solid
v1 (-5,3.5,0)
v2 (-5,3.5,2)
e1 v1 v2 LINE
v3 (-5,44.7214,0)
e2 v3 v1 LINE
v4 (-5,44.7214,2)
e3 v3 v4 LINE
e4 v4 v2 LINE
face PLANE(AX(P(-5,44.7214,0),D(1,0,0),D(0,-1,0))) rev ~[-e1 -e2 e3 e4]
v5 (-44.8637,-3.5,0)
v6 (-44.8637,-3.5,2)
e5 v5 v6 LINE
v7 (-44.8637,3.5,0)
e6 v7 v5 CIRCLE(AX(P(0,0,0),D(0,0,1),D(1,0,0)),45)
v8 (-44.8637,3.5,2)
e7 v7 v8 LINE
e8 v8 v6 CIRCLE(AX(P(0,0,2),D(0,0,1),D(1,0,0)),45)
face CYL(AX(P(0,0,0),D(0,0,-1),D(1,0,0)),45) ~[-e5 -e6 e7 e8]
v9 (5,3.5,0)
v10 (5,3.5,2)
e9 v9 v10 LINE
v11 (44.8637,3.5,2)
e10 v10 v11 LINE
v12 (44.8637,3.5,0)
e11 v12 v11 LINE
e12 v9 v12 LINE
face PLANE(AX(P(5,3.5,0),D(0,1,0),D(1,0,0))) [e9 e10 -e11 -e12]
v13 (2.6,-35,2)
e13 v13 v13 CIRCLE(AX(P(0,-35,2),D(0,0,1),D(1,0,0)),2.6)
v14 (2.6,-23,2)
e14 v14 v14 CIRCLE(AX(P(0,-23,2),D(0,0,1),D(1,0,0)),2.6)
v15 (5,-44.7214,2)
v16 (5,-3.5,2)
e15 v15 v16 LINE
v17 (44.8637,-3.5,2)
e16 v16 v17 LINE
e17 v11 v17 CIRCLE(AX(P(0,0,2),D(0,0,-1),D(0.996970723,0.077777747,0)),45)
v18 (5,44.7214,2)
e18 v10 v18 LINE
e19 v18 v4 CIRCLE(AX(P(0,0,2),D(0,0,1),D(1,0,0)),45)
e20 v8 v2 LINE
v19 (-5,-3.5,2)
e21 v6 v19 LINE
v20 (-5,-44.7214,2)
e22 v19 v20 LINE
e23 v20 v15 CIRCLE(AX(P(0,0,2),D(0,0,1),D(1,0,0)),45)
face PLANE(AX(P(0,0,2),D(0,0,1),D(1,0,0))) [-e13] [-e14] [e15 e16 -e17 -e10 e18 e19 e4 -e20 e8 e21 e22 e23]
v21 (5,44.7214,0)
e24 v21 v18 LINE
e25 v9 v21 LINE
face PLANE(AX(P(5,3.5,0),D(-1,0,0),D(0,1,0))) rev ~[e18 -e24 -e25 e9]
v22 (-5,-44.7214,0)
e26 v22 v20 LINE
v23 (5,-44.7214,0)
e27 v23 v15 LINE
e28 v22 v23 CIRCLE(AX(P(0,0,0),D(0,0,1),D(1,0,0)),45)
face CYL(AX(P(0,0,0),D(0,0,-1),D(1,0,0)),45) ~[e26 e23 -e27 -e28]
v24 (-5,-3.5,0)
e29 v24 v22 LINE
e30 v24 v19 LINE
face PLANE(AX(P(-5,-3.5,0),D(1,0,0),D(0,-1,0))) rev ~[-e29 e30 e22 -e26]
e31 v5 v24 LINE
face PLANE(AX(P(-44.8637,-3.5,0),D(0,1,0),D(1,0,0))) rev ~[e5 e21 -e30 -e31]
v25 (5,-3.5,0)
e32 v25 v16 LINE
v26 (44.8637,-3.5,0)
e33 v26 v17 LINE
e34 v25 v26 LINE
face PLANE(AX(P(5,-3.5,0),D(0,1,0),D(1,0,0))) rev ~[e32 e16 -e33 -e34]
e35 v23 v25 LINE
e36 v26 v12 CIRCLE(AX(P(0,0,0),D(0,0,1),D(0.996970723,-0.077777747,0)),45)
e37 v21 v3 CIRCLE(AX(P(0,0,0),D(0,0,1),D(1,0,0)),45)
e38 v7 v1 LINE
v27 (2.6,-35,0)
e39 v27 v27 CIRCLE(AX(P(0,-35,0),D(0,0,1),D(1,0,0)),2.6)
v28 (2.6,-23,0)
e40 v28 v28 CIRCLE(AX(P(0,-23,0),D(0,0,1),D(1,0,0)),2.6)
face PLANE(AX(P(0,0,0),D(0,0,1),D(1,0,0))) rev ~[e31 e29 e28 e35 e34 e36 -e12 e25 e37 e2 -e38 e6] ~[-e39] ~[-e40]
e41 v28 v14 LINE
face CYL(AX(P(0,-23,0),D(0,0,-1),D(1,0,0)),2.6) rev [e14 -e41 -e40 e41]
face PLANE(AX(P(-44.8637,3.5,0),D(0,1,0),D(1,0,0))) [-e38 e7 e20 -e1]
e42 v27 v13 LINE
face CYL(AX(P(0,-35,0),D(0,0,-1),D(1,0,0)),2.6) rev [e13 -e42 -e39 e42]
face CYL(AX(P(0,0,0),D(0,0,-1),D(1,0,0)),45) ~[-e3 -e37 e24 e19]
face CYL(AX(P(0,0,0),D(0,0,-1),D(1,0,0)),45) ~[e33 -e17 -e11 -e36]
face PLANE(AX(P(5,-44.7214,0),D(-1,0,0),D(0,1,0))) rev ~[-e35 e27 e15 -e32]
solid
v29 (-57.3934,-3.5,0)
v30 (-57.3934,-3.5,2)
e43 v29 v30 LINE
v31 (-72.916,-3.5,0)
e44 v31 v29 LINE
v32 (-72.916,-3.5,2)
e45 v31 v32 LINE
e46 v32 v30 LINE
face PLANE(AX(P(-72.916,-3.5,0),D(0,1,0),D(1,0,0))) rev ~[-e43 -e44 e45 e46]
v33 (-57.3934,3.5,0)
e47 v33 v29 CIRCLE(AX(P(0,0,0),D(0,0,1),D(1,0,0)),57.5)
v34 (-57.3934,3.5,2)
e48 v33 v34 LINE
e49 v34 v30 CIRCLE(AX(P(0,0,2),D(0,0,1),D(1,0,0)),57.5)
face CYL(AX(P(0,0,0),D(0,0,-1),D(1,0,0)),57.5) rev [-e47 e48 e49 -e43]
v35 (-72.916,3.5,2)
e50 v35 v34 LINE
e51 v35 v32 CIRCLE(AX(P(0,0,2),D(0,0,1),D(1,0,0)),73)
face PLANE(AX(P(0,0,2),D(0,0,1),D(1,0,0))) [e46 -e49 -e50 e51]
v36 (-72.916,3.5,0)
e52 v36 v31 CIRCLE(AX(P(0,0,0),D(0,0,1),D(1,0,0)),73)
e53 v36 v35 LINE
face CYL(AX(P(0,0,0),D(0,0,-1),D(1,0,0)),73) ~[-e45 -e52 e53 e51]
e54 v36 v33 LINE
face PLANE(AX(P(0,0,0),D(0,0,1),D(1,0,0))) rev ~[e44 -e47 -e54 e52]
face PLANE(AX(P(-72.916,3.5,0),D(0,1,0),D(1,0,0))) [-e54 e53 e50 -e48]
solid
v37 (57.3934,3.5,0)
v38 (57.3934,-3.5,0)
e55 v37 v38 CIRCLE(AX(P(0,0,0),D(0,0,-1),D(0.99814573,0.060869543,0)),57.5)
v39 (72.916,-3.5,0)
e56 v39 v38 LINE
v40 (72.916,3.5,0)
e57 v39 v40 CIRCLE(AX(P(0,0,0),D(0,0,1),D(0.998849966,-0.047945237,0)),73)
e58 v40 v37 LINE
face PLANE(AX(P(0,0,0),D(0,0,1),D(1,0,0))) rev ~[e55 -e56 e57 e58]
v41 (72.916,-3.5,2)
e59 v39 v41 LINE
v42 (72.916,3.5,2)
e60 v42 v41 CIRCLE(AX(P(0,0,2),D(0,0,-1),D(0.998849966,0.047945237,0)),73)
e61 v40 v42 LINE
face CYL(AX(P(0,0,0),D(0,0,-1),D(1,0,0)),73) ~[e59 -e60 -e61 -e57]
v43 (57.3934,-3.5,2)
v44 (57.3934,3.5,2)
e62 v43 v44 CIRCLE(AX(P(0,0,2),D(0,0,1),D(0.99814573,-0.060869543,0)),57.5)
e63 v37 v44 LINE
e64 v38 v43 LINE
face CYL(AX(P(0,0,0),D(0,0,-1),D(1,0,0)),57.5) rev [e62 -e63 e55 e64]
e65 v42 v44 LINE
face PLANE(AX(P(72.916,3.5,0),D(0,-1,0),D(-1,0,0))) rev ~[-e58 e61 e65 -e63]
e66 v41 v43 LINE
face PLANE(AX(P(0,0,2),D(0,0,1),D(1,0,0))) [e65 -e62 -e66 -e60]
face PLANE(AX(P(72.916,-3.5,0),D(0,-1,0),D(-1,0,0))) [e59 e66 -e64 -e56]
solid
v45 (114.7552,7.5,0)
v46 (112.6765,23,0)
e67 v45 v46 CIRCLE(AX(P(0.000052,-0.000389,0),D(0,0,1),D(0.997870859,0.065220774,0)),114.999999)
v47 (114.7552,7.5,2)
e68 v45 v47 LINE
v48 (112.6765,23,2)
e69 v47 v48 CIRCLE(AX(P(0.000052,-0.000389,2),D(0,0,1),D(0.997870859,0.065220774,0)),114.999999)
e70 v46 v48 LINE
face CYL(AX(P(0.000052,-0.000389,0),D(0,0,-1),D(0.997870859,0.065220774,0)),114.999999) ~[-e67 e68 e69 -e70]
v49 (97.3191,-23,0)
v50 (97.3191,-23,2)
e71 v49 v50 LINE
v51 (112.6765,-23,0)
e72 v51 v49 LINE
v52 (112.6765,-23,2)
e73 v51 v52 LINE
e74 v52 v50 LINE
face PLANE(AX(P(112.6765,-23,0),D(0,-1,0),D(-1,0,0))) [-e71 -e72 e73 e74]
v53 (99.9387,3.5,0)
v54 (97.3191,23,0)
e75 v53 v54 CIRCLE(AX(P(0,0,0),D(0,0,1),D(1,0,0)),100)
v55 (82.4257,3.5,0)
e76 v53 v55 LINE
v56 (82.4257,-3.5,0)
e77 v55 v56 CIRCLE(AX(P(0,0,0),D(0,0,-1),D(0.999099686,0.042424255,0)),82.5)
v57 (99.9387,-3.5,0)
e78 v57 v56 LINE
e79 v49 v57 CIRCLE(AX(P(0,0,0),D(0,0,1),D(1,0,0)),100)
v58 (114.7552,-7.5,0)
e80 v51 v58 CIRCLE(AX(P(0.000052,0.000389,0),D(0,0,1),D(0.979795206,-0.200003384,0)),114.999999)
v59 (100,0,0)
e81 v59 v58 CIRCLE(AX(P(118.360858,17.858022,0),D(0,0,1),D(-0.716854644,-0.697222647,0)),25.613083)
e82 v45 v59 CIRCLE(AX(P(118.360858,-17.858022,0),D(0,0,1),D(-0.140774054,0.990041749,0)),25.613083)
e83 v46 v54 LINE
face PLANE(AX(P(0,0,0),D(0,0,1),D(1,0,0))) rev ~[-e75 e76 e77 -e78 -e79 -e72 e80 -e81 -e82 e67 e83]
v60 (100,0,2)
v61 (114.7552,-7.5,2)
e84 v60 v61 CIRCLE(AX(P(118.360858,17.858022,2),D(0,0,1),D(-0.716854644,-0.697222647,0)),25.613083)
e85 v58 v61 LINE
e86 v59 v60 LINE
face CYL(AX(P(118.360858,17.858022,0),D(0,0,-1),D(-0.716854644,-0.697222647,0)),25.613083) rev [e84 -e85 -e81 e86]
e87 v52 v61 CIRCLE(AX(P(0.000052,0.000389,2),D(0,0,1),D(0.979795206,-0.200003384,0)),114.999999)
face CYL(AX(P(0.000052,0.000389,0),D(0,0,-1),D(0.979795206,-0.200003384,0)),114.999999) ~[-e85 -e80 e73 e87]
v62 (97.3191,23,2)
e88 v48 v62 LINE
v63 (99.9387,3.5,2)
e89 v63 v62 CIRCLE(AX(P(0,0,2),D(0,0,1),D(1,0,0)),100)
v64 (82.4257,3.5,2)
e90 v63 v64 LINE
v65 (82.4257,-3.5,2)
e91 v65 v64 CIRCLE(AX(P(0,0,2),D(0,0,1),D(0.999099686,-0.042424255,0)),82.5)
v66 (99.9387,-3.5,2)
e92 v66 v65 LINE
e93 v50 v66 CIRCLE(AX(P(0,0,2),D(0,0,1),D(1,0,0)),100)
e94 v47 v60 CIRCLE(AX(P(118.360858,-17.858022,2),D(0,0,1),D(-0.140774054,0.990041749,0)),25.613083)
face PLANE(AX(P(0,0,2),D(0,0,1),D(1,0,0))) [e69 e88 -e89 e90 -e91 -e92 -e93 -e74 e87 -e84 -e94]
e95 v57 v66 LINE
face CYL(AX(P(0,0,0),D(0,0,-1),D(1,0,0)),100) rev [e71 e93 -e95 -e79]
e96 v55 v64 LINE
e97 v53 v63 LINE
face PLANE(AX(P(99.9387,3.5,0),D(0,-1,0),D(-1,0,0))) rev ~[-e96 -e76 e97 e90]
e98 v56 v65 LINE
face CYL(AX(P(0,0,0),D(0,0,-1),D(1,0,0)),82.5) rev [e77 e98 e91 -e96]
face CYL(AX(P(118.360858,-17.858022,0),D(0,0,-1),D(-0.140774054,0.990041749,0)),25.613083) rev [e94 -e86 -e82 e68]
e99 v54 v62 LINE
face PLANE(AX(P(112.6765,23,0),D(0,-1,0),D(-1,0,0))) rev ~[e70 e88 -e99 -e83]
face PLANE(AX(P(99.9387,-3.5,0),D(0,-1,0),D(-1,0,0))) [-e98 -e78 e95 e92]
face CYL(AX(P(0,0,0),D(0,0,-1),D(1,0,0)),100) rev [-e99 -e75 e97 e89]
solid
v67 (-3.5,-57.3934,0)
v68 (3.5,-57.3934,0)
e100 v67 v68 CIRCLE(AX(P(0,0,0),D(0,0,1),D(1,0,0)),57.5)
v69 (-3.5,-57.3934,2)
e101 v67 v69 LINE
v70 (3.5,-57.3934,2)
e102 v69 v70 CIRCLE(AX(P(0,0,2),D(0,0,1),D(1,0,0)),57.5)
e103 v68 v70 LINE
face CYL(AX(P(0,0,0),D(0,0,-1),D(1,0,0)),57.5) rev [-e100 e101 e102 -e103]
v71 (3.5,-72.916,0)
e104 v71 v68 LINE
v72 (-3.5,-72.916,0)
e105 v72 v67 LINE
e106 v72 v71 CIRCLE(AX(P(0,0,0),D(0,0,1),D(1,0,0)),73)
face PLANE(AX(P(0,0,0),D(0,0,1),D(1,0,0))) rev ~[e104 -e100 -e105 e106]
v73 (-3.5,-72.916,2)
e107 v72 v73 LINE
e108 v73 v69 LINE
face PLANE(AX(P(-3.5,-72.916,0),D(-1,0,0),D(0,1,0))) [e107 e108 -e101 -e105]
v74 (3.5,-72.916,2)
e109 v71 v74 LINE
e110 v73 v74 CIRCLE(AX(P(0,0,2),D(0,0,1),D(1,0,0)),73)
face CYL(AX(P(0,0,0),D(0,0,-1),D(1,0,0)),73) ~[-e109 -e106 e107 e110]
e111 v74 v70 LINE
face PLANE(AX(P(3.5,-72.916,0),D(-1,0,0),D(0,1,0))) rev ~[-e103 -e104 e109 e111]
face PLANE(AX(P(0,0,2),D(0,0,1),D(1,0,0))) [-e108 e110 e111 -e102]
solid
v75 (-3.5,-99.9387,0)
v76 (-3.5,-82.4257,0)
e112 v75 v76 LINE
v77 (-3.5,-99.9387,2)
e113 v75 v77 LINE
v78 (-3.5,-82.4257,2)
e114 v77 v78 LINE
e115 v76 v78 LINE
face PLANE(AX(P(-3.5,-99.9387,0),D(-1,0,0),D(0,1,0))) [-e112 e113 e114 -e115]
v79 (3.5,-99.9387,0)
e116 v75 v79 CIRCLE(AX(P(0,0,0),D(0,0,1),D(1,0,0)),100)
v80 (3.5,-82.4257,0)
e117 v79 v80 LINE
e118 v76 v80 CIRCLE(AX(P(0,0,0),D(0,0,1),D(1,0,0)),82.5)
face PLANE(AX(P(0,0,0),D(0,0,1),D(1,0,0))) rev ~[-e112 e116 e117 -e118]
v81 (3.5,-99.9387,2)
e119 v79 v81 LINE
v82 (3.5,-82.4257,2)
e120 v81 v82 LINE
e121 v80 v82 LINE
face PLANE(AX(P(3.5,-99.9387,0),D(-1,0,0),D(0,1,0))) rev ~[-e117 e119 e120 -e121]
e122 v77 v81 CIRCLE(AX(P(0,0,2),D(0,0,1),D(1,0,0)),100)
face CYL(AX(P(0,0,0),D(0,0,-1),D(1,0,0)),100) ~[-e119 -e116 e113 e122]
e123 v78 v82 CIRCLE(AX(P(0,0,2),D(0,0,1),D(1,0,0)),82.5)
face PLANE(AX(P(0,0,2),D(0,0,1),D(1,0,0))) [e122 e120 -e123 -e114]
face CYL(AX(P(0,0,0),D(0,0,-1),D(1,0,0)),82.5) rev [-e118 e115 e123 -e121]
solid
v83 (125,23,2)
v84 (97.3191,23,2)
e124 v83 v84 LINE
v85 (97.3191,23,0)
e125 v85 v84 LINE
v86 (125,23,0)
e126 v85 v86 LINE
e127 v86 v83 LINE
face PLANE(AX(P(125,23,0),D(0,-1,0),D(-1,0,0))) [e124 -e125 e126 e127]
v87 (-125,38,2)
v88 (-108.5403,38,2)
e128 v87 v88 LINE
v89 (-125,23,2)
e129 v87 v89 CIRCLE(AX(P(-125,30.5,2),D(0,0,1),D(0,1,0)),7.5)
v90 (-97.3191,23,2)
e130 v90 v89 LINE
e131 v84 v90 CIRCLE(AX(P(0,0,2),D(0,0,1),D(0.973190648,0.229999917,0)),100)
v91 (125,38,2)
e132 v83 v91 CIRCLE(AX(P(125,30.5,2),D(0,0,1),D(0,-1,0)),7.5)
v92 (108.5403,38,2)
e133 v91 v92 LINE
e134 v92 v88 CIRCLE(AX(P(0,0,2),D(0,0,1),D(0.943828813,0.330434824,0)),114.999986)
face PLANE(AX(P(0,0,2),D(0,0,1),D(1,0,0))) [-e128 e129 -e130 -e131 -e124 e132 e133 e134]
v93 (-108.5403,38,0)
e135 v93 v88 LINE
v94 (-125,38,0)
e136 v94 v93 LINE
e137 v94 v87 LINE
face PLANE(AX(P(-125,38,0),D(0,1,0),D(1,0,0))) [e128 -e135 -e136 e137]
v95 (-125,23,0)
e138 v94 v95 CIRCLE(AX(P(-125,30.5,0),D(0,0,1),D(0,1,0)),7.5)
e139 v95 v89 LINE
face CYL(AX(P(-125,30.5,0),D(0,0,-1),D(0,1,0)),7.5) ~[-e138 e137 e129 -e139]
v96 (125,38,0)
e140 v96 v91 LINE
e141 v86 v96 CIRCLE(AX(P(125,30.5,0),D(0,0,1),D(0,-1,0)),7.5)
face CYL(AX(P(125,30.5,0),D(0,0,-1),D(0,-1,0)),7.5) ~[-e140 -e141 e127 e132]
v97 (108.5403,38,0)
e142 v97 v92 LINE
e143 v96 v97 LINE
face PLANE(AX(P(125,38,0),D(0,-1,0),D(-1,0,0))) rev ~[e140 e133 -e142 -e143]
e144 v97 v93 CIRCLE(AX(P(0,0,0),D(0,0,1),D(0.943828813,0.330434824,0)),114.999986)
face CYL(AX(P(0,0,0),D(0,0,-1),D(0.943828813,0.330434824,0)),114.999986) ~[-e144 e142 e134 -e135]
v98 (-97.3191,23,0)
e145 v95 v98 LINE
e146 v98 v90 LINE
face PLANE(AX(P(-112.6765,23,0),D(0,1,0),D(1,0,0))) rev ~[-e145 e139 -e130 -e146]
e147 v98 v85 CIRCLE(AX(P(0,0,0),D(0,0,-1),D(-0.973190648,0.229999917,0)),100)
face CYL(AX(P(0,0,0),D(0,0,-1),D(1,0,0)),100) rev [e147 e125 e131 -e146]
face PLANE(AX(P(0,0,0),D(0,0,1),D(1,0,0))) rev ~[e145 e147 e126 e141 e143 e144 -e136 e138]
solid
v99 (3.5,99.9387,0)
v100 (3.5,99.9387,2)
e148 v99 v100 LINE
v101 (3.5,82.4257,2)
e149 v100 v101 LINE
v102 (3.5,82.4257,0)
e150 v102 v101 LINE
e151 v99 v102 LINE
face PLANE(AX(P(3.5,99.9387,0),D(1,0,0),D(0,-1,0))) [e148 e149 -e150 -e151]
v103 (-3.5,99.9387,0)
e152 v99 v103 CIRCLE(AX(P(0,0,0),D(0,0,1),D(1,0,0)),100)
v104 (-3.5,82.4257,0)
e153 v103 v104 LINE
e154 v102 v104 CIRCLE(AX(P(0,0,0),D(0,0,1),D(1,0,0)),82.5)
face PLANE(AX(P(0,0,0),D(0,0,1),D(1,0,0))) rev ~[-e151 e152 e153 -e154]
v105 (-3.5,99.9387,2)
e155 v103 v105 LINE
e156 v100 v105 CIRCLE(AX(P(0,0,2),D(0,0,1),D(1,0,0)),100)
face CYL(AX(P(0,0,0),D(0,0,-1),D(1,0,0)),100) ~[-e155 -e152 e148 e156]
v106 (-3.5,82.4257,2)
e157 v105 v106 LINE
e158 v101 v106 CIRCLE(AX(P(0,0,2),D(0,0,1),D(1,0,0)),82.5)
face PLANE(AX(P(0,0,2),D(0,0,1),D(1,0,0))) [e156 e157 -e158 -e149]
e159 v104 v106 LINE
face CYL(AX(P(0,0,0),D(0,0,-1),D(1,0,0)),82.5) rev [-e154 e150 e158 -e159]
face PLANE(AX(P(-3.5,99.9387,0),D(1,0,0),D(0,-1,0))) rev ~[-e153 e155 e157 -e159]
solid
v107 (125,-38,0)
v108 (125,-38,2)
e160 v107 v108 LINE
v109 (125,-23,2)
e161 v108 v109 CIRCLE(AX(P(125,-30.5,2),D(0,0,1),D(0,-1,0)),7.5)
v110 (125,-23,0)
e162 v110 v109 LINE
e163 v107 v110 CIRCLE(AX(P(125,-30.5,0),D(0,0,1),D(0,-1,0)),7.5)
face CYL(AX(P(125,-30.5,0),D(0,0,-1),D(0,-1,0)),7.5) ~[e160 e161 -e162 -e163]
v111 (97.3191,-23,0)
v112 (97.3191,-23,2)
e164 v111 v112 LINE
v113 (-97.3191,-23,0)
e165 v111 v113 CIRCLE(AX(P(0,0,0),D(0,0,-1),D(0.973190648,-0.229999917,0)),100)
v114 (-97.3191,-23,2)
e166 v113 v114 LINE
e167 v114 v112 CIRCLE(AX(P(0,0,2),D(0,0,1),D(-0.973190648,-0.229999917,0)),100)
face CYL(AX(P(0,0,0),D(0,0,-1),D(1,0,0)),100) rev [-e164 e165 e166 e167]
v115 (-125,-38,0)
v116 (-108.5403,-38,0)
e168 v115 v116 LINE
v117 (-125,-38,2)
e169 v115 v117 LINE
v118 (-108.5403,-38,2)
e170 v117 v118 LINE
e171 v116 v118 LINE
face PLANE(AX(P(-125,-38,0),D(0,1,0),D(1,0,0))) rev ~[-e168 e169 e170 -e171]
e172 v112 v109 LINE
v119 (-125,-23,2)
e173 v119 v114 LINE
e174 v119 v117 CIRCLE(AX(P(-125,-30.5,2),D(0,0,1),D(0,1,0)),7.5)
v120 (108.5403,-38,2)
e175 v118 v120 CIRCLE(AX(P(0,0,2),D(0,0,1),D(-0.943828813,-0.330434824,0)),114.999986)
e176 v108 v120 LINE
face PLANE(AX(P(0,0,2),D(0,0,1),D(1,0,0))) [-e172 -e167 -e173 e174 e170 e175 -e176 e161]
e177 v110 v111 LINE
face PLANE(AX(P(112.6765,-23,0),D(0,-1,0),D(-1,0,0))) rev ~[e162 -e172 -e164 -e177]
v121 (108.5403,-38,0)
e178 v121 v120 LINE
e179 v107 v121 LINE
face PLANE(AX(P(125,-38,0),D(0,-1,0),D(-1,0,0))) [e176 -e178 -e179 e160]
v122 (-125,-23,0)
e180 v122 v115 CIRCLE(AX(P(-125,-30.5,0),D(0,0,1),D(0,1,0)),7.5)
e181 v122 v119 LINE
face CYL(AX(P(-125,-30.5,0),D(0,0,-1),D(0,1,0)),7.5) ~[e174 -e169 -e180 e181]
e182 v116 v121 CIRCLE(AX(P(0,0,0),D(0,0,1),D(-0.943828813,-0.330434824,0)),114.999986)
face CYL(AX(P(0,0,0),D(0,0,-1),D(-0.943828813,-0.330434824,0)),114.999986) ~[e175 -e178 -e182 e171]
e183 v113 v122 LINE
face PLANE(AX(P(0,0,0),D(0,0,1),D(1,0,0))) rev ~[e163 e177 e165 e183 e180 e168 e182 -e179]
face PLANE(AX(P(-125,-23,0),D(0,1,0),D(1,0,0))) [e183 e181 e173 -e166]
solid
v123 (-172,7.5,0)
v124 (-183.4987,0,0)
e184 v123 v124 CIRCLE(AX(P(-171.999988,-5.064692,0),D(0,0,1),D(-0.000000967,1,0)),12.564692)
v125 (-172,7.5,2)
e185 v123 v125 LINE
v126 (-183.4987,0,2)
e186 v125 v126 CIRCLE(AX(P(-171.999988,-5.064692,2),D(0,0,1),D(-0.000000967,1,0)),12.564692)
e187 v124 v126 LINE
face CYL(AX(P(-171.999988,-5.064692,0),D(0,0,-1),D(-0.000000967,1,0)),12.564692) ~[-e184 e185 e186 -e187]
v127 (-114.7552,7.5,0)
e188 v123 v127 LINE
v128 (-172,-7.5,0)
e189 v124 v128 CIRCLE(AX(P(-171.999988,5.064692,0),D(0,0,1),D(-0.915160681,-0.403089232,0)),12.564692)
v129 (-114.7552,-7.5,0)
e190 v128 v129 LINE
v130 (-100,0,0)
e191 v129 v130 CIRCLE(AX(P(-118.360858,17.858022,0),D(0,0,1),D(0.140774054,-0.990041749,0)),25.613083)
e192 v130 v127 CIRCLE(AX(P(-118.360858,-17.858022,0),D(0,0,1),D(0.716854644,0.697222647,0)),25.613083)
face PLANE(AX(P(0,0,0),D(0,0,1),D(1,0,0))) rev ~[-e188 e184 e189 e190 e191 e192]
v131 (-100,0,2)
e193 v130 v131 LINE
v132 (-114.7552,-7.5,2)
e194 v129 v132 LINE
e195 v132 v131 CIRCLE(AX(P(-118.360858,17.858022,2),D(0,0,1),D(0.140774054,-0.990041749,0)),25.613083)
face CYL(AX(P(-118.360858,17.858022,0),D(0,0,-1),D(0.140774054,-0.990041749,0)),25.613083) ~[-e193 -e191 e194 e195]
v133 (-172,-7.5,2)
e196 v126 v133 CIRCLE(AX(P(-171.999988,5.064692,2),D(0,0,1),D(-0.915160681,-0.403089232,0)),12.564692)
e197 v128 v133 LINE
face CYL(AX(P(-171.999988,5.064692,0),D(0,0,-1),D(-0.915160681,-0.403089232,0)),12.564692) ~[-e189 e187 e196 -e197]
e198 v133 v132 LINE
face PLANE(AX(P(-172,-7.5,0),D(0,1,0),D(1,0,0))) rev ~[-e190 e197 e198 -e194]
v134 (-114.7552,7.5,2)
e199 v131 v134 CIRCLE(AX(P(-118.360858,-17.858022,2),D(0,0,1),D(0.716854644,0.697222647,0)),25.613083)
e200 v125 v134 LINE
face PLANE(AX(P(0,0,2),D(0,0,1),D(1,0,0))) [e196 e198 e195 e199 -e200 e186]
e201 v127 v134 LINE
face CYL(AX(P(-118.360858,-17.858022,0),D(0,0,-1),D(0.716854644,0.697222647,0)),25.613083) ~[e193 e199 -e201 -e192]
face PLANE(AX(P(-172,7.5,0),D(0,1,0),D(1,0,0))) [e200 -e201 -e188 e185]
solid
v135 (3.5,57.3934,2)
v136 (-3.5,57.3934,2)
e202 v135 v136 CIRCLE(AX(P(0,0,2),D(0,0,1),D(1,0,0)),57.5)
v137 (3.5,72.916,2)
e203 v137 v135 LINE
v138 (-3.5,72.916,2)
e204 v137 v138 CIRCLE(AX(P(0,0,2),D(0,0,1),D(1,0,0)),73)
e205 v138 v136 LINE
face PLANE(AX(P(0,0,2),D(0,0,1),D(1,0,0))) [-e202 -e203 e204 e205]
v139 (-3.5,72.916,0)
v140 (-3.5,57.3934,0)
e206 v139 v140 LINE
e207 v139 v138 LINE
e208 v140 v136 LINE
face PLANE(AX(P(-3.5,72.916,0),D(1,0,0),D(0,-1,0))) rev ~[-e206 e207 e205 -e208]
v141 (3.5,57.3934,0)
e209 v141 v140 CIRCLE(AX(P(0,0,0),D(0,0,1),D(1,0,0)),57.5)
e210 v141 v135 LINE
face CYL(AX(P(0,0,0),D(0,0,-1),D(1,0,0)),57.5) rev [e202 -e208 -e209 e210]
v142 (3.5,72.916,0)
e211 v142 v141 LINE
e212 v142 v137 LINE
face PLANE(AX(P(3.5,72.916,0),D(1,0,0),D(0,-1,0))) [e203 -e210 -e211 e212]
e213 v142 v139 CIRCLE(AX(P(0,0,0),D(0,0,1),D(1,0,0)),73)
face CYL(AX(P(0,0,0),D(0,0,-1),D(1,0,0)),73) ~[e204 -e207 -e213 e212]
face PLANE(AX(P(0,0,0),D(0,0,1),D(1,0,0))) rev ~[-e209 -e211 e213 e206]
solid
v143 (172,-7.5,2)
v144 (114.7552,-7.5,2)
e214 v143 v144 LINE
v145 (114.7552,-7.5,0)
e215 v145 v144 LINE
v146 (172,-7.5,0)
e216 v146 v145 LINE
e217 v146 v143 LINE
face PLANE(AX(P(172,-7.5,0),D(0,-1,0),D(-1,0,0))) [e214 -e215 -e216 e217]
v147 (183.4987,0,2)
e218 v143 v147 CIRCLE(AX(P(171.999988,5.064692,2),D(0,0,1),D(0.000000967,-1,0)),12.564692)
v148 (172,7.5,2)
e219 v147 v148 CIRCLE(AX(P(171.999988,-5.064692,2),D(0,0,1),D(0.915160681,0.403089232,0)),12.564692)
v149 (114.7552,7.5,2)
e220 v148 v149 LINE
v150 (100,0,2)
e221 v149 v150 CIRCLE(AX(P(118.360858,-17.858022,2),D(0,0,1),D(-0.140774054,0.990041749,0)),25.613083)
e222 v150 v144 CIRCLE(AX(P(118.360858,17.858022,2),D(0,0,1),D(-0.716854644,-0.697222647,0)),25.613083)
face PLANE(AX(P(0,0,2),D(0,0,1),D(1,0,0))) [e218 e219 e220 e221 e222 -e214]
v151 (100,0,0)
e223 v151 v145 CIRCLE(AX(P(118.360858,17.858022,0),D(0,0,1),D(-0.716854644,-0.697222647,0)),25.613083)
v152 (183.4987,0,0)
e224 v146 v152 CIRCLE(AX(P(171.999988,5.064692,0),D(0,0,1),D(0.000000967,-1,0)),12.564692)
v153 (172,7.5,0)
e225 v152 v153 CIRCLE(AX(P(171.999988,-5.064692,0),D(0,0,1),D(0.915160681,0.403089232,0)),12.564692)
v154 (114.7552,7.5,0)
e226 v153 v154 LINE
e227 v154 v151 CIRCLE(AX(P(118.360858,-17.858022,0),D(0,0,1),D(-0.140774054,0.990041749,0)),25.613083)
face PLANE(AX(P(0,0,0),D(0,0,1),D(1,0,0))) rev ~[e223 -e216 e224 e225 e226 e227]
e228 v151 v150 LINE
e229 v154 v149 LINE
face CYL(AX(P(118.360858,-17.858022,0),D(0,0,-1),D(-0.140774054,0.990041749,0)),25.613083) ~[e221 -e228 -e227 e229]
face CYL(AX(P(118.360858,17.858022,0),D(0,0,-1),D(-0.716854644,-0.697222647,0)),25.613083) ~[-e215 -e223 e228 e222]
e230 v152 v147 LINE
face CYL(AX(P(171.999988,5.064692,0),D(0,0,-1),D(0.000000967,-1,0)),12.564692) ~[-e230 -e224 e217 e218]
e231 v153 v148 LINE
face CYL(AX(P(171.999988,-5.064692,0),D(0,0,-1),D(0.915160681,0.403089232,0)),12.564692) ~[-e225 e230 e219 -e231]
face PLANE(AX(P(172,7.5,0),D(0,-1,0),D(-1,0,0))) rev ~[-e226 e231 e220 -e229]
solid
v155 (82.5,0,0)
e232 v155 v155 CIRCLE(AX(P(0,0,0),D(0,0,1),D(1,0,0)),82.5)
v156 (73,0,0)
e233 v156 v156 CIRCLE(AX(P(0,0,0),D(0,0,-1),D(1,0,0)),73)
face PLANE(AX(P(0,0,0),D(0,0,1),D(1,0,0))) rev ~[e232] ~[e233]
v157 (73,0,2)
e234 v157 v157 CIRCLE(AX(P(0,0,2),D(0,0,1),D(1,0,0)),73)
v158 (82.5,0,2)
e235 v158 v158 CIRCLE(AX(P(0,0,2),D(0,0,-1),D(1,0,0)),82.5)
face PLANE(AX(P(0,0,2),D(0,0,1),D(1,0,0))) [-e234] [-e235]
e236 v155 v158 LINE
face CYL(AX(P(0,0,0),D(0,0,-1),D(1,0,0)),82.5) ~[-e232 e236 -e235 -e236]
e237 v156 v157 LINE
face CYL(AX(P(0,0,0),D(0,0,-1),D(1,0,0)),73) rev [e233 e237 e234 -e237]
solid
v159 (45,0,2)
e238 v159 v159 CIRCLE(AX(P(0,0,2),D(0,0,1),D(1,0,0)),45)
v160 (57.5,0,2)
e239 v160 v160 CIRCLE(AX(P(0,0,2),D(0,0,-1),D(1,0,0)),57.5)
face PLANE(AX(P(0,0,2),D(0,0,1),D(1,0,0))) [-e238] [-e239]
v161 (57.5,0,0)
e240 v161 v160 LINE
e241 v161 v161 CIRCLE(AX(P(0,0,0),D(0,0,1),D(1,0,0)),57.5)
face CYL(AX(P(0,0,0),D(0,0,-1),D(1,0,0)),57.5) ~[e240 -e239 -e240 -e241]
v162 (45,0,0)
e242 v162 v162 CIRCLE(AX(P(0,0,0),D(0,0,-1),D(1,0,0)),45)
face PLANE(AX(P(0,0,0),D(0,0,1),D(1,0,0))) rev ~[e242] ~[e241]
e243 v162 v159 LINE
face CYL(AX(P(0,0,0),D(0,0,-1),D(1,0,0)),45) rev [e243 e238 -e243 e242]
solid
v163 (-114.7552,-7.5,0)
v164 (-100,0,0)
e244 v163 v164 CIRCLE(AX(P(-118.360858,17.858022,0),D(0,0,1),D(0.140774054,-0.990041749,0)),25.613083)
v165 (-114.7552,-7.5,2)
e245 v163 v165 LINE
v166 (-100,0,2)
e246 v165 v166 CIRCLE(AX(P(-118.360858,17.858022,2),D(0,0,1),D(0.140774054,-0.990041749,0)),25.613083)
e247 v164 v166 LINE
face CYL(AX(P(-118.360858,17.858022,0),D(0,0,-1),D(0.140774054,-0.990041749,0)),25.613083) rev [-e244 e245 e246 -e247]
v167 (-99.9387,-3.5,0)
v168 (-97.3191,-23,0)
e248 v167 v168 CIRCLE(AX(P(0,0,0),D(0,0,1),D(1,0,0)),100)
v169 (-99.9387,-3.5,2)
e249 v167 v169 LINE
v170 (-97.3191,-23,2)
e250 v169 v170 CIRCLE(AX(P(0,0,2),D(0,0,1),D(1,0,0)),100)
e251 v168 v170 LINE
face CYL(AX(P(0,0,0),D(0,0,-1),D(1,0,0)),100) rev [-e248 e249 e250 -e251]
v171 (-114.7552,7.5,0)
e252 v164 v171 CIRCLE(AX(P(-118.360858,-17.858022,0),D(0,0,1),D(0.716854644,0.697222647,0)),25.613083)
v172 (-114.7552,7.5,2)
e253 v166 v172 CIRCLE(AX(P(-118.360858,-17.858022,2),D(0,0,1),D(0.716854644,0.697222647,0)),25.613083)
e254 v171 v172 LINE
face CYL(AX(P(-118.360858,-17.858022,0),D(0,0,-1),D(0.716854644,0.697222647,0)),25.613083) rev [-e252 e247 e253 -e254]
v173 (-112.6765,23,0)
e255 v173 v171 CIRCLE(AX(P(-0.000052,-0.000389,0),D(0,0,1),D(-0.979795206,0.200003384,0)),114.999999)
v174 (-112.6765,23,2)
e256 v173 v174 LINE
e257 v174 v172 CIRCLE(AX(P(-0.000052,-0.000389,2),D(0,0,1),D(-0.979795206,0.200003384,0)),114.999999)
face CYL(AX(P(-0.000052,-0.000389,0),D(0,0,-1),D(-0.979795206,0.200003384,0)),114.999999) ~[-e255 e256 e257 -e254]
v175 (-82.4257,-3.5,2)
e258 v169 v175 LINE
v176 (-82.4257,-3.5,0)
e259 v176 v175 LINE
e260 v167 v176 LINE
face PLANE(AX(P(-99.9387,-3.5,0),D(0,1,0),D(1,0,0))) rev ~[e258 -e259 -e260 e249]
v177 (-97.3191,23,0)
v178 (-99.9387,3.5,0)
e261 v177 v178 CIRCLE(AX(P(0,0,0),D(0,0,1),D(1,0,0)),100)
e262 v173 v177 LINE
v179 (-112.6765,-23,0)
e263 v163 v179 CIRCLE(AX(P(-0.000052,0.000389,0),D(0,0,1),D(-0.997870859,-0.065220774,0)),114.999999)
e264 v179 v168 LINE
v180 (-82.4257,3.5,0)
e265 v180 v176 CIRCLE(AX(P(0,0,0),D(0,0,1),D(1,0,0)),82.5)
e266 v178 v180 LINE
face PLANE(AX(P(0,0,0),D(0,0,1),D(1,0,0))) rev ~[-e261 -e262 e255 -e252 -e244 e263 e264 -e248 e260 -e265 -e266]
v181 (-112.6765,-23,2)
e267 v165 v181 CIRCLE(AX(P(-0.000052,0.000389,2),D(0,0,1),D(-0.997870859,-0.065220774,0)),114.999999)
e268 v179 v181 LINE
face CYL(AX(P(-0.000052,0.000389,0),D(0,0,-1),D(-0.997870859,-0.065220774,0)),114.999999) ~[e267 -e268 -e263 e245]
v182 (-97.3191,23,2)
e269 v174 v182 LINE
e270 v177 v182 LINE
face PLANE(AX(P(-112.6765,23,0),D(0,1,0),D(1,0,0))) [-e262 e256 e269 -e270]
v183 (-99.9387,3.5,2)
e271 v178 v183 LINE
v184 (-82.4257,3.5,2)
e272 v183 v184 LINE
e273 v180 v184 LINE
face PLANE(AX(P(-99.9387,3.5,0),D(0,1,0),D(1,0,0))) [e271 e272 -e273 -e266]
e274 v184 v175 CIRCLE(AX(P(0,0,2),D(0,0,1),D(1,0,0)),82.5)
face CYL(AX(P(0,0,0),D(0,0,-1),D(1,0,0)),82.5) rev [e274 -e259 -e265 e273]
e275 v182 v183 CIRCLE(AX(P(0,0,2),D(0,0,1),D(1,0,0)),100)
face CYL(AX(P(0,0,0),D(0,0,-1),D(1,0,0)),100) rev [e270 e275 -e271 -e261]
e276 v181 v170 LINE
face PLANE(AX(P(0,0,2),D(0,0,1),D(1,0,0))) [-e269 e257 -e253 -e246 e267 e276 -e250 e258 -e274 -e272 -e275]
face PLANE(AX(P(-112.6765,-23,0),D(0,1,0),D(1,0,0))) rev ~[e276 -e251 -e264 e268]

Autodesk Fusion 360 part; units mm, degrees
sketch "スケッチ1" plane through (0, 0, 0) normal (0, 0, 1) x (1, 0, 0)
  circle A0 centre (0, 0) radius 100
  circle A1 centre (0, 0) radius 82.5
  circle A2 centre (0, 0) radius 73
  circle A3 centre (0, 0) radius 57.5
  line L0 (0, 0) -> (0, 115) construction
  line L1 (0, 23) -> (-125, 23) construction
  line L2 (0, 0) -> (115, 0) construction
  line L3 (0, 38) -> (-125, 38) construction
  line L4 (-125, 23) -> (-125, 38) construction
  arc A4 (-125, 38) -> (-125, 23) centre (-125, 30.5) ccw
  line L5 (-125, 38) -> (-108.5403, 38)
  line L6 (-125, 23) -> (-112.6765, 23)
  line L7 (0, 7.5) -> (-172, 7.5) construction
  line L8 (-172, 7.5) -> (-114.7552, 7.5)
  line L9 (0, 0) -> (-190, 0) construction
  arc A5 (-172, 7.5) -> (-183.4987, 0) centre (-172, -5.0647) ccw
  line L10 (-3.5, 99.9387) -> (-3.5, 82.4257)
  line L11 (-3.5, 72.916) -> (-3.5, 57.3934)
  line L12 (3.5, 99.9387) -> (3.5, 82.4257)
  line L13 (3.5, 72.916) -> (3.5, 57.3934)
  arc A6 (-183.4987, 0) -> (-172, -7.5) centre (-172, 5.0647) ccw
  line L14 (-172, -7.5) -> (-114.7552, -7.5)
  line L15 (-125, -38) -> (-108.5403, -38)
  arc A7 (-125, -23) -> (-125, -38) centre (-125, -30.5) ccw
  line L16 (-125, -23) -> (-112.6765, -23)
  arc A8 (125, 23) -> (125, 38) centre (125, 30.5) ccw
  line L17 (125, 38) -> (108.5403, 38)
  line L18 (125, 23) -> (112.6765, 23)
  line L19 (172, 7.5) -> (114.7552, 7.5)
  arc A9 (183.4987, 0) -> (172, 7.5) centre (172, -5.0647) ccw
  arc A10 (172, -7.5) -> (183.4987, 0) centre (172, 5.0647) ccw
  line L20 (172, -7.5) -> (114.7552, -7.5)
  line L21 (125, -23) -> (112.6765, -23)
  arc A11 (125, -38) -> (125, -23) centre (125, -30.5) ccw
  line L22 (125, -38) -> (108.5403, -38)
  arc A12 (-112.6765, 23) -> (-114.7552, 7.5) centre (0, 0) ccw
  arc A13 (-114.7552, -7.5) -> (-112.6765, -23) centre (0, 0) ccw
  arc A14 (-108.5403, -38) -> (108.5403, -38) centre (0, 0) ccw
  arc A15 (112.6765, -23) -> (114.7552, -7.5) centre (0, 0) ccw
  arc A16 (114.7552, 7.5) -> (112.6765, 23) centre (0, 0) ccw
  arc A17 (108.5403, 38) -> (-108.5403, 38) centre (0, 0) ccw
  line L23 (-72.916, 3.5) -> (-57.3934, 3.5)
  line L24 (-72.916, -3.5) -> (-57.3934, -3.5)
  line L25 (-99.9387, 3.5) -> (-82.4257, 3.5)
  line L26 (-99.9387, -3.5) -> (-82.4257, -3.5)
  line L27 (-3.5, -72.916) -> (-3.5, -57.3934)
  line L28 (3.5, -72.916) -> (3.5, -57.3934)
  line L29 (-3.5, -99.9387) -> (-3.5, -82.4257)
  line L30 (3.5, -99.9387) -> (3.5, -82.4257)
  line L31 (72.916, -3.5) -> (57.3934, -3.5)
  line L32 (72.916, 3.5) -> (57.3934, 3.5)
  line L33 (99.9387, -3.5) -> (82.4257, -3.5)
  line L34 (99.9387, 3.5) -> (82.4257, 3.5)
  circle A18 centre (0, 0) radius 45
  circle A19 centre (0, -35) radius 2.6
  circle A20 centre (0, -23) radius 2.6
  line L35 (5, -44.7214) -> (5, -3.5)
  line L36 (5, 3.5) -> (5, 44.7214)
  line L37 (-5, 44.7214) -> (-5, 3.5)
  line L38 (-5, -3.5) -> (-5, -44.7214)
  line L39 (-44.8637, 3.5) -> (-5, 3.5)
  line L40 (5, 3.5) -> (44.8637, 3.5)
  line L41 (-44.8637, -3.5) -> (-5, -3.5)
  line L42 (5, -3.5) -> (44.8637, -3.5)
  arc A21 (-100, 0) -> (-114.7552, 7.5) centre (-118.3609, -17.858) ccw
  arc A22 (-114.7552, -7.5) -> (-100, 0) centre (-118.3609, 17.858) ccw
  line L43 (-112.6765, 23) -> (-97.3191, 23)
  line L44 (-112.6765, -23) -> (-97.3191, -23)
  line L45 (112.6765, 23) -> (97.3191, 23)
  arc A23 (114.7552, 7.5) -> (100, 0) centre (118.3609, -17.858) ccw
  arc A24 (100, 0) -> (114.7552, -7.5) centre (118.3609, 17.858) ccw
  line L46 (112.6765, -23) -> (97.3191, -23)
  dimension "d1" = 230
  dimension "d2" = 200
  dimension "d3" = 165
  dimension "d4" = 146
  dimension "d5" = 115
  dimension "d7" = 23
  dimension "d8" = 125
  dimension "d9" = 125
  dimension "d10" = 15
  dimension "d11" = 172
  dimension "d12" = 7
  dimension "d14" = 360
  dimension "d15" = 90
  dimension "d16" = 10
  dimension "d17" = 5.2
  dimension "d18" = 5.2
  dimension "d19" = 7.5
extrude "押し出し1" add sketch "スケッチ1" along normal blind 2 contours L19 A9 A10 L20 A23 A24 | A0 A4 L5 L6 A8 L17 L18 A17 L43 L45 | A1 | A0 L15 A7 L16 L21 A11 L22 A14 L44 L46 | L8 A5 A6 L14 A21 A22 | A3 makes body 1 at (-133.8368, -2.5, 0) makes body 2 at (-110.2865, 28, 2) makes body 3 at (110.2865, -28, 2) makes body 4 at (-49.9173, 18.3869, 0) makes body 5 at (-77.5326, -15.8311, 0) makes body 6 at (133.8368, 2.5, 0)
extrude "押し出し2" add sketch "スケッチ1" along normal blind 2 separate body contours A0 A1 L33 L34 | A0 A15 A24 L46 | A0 A16 L45 A23 | A0 A1 L10 L12 | A0 A1 L29 L30 | A0 A12 A21 L43 | A0 A1 L25 L26 | A0 A13 A22 L44 | A2 A3 L31 L32 | A2 A3 L11 L13 | A2 A3 L27 L28 | A2 A3 L23 L24 | A18 L35 L36 L37 L38 L39 L40 L41 L42 makes body 7 at (2.7223, -88.2854, 0) makes body 8 at (0.5566, 17.323, 2) makes body 9 at (-62.5992, 2.7224, 0) makes body 10 at (-2.7224, -62.5992, 0) makes body 11 at (62.5992, -2.7224, 0) makes body 12 at (2.7224, 62.5992, 0) makes body 13 at (-102.8715, -20.854, 0) makes body 14 at (2.7223, 88.2854, 0) makes body 15 at (102.8715, 20.854, 0)
